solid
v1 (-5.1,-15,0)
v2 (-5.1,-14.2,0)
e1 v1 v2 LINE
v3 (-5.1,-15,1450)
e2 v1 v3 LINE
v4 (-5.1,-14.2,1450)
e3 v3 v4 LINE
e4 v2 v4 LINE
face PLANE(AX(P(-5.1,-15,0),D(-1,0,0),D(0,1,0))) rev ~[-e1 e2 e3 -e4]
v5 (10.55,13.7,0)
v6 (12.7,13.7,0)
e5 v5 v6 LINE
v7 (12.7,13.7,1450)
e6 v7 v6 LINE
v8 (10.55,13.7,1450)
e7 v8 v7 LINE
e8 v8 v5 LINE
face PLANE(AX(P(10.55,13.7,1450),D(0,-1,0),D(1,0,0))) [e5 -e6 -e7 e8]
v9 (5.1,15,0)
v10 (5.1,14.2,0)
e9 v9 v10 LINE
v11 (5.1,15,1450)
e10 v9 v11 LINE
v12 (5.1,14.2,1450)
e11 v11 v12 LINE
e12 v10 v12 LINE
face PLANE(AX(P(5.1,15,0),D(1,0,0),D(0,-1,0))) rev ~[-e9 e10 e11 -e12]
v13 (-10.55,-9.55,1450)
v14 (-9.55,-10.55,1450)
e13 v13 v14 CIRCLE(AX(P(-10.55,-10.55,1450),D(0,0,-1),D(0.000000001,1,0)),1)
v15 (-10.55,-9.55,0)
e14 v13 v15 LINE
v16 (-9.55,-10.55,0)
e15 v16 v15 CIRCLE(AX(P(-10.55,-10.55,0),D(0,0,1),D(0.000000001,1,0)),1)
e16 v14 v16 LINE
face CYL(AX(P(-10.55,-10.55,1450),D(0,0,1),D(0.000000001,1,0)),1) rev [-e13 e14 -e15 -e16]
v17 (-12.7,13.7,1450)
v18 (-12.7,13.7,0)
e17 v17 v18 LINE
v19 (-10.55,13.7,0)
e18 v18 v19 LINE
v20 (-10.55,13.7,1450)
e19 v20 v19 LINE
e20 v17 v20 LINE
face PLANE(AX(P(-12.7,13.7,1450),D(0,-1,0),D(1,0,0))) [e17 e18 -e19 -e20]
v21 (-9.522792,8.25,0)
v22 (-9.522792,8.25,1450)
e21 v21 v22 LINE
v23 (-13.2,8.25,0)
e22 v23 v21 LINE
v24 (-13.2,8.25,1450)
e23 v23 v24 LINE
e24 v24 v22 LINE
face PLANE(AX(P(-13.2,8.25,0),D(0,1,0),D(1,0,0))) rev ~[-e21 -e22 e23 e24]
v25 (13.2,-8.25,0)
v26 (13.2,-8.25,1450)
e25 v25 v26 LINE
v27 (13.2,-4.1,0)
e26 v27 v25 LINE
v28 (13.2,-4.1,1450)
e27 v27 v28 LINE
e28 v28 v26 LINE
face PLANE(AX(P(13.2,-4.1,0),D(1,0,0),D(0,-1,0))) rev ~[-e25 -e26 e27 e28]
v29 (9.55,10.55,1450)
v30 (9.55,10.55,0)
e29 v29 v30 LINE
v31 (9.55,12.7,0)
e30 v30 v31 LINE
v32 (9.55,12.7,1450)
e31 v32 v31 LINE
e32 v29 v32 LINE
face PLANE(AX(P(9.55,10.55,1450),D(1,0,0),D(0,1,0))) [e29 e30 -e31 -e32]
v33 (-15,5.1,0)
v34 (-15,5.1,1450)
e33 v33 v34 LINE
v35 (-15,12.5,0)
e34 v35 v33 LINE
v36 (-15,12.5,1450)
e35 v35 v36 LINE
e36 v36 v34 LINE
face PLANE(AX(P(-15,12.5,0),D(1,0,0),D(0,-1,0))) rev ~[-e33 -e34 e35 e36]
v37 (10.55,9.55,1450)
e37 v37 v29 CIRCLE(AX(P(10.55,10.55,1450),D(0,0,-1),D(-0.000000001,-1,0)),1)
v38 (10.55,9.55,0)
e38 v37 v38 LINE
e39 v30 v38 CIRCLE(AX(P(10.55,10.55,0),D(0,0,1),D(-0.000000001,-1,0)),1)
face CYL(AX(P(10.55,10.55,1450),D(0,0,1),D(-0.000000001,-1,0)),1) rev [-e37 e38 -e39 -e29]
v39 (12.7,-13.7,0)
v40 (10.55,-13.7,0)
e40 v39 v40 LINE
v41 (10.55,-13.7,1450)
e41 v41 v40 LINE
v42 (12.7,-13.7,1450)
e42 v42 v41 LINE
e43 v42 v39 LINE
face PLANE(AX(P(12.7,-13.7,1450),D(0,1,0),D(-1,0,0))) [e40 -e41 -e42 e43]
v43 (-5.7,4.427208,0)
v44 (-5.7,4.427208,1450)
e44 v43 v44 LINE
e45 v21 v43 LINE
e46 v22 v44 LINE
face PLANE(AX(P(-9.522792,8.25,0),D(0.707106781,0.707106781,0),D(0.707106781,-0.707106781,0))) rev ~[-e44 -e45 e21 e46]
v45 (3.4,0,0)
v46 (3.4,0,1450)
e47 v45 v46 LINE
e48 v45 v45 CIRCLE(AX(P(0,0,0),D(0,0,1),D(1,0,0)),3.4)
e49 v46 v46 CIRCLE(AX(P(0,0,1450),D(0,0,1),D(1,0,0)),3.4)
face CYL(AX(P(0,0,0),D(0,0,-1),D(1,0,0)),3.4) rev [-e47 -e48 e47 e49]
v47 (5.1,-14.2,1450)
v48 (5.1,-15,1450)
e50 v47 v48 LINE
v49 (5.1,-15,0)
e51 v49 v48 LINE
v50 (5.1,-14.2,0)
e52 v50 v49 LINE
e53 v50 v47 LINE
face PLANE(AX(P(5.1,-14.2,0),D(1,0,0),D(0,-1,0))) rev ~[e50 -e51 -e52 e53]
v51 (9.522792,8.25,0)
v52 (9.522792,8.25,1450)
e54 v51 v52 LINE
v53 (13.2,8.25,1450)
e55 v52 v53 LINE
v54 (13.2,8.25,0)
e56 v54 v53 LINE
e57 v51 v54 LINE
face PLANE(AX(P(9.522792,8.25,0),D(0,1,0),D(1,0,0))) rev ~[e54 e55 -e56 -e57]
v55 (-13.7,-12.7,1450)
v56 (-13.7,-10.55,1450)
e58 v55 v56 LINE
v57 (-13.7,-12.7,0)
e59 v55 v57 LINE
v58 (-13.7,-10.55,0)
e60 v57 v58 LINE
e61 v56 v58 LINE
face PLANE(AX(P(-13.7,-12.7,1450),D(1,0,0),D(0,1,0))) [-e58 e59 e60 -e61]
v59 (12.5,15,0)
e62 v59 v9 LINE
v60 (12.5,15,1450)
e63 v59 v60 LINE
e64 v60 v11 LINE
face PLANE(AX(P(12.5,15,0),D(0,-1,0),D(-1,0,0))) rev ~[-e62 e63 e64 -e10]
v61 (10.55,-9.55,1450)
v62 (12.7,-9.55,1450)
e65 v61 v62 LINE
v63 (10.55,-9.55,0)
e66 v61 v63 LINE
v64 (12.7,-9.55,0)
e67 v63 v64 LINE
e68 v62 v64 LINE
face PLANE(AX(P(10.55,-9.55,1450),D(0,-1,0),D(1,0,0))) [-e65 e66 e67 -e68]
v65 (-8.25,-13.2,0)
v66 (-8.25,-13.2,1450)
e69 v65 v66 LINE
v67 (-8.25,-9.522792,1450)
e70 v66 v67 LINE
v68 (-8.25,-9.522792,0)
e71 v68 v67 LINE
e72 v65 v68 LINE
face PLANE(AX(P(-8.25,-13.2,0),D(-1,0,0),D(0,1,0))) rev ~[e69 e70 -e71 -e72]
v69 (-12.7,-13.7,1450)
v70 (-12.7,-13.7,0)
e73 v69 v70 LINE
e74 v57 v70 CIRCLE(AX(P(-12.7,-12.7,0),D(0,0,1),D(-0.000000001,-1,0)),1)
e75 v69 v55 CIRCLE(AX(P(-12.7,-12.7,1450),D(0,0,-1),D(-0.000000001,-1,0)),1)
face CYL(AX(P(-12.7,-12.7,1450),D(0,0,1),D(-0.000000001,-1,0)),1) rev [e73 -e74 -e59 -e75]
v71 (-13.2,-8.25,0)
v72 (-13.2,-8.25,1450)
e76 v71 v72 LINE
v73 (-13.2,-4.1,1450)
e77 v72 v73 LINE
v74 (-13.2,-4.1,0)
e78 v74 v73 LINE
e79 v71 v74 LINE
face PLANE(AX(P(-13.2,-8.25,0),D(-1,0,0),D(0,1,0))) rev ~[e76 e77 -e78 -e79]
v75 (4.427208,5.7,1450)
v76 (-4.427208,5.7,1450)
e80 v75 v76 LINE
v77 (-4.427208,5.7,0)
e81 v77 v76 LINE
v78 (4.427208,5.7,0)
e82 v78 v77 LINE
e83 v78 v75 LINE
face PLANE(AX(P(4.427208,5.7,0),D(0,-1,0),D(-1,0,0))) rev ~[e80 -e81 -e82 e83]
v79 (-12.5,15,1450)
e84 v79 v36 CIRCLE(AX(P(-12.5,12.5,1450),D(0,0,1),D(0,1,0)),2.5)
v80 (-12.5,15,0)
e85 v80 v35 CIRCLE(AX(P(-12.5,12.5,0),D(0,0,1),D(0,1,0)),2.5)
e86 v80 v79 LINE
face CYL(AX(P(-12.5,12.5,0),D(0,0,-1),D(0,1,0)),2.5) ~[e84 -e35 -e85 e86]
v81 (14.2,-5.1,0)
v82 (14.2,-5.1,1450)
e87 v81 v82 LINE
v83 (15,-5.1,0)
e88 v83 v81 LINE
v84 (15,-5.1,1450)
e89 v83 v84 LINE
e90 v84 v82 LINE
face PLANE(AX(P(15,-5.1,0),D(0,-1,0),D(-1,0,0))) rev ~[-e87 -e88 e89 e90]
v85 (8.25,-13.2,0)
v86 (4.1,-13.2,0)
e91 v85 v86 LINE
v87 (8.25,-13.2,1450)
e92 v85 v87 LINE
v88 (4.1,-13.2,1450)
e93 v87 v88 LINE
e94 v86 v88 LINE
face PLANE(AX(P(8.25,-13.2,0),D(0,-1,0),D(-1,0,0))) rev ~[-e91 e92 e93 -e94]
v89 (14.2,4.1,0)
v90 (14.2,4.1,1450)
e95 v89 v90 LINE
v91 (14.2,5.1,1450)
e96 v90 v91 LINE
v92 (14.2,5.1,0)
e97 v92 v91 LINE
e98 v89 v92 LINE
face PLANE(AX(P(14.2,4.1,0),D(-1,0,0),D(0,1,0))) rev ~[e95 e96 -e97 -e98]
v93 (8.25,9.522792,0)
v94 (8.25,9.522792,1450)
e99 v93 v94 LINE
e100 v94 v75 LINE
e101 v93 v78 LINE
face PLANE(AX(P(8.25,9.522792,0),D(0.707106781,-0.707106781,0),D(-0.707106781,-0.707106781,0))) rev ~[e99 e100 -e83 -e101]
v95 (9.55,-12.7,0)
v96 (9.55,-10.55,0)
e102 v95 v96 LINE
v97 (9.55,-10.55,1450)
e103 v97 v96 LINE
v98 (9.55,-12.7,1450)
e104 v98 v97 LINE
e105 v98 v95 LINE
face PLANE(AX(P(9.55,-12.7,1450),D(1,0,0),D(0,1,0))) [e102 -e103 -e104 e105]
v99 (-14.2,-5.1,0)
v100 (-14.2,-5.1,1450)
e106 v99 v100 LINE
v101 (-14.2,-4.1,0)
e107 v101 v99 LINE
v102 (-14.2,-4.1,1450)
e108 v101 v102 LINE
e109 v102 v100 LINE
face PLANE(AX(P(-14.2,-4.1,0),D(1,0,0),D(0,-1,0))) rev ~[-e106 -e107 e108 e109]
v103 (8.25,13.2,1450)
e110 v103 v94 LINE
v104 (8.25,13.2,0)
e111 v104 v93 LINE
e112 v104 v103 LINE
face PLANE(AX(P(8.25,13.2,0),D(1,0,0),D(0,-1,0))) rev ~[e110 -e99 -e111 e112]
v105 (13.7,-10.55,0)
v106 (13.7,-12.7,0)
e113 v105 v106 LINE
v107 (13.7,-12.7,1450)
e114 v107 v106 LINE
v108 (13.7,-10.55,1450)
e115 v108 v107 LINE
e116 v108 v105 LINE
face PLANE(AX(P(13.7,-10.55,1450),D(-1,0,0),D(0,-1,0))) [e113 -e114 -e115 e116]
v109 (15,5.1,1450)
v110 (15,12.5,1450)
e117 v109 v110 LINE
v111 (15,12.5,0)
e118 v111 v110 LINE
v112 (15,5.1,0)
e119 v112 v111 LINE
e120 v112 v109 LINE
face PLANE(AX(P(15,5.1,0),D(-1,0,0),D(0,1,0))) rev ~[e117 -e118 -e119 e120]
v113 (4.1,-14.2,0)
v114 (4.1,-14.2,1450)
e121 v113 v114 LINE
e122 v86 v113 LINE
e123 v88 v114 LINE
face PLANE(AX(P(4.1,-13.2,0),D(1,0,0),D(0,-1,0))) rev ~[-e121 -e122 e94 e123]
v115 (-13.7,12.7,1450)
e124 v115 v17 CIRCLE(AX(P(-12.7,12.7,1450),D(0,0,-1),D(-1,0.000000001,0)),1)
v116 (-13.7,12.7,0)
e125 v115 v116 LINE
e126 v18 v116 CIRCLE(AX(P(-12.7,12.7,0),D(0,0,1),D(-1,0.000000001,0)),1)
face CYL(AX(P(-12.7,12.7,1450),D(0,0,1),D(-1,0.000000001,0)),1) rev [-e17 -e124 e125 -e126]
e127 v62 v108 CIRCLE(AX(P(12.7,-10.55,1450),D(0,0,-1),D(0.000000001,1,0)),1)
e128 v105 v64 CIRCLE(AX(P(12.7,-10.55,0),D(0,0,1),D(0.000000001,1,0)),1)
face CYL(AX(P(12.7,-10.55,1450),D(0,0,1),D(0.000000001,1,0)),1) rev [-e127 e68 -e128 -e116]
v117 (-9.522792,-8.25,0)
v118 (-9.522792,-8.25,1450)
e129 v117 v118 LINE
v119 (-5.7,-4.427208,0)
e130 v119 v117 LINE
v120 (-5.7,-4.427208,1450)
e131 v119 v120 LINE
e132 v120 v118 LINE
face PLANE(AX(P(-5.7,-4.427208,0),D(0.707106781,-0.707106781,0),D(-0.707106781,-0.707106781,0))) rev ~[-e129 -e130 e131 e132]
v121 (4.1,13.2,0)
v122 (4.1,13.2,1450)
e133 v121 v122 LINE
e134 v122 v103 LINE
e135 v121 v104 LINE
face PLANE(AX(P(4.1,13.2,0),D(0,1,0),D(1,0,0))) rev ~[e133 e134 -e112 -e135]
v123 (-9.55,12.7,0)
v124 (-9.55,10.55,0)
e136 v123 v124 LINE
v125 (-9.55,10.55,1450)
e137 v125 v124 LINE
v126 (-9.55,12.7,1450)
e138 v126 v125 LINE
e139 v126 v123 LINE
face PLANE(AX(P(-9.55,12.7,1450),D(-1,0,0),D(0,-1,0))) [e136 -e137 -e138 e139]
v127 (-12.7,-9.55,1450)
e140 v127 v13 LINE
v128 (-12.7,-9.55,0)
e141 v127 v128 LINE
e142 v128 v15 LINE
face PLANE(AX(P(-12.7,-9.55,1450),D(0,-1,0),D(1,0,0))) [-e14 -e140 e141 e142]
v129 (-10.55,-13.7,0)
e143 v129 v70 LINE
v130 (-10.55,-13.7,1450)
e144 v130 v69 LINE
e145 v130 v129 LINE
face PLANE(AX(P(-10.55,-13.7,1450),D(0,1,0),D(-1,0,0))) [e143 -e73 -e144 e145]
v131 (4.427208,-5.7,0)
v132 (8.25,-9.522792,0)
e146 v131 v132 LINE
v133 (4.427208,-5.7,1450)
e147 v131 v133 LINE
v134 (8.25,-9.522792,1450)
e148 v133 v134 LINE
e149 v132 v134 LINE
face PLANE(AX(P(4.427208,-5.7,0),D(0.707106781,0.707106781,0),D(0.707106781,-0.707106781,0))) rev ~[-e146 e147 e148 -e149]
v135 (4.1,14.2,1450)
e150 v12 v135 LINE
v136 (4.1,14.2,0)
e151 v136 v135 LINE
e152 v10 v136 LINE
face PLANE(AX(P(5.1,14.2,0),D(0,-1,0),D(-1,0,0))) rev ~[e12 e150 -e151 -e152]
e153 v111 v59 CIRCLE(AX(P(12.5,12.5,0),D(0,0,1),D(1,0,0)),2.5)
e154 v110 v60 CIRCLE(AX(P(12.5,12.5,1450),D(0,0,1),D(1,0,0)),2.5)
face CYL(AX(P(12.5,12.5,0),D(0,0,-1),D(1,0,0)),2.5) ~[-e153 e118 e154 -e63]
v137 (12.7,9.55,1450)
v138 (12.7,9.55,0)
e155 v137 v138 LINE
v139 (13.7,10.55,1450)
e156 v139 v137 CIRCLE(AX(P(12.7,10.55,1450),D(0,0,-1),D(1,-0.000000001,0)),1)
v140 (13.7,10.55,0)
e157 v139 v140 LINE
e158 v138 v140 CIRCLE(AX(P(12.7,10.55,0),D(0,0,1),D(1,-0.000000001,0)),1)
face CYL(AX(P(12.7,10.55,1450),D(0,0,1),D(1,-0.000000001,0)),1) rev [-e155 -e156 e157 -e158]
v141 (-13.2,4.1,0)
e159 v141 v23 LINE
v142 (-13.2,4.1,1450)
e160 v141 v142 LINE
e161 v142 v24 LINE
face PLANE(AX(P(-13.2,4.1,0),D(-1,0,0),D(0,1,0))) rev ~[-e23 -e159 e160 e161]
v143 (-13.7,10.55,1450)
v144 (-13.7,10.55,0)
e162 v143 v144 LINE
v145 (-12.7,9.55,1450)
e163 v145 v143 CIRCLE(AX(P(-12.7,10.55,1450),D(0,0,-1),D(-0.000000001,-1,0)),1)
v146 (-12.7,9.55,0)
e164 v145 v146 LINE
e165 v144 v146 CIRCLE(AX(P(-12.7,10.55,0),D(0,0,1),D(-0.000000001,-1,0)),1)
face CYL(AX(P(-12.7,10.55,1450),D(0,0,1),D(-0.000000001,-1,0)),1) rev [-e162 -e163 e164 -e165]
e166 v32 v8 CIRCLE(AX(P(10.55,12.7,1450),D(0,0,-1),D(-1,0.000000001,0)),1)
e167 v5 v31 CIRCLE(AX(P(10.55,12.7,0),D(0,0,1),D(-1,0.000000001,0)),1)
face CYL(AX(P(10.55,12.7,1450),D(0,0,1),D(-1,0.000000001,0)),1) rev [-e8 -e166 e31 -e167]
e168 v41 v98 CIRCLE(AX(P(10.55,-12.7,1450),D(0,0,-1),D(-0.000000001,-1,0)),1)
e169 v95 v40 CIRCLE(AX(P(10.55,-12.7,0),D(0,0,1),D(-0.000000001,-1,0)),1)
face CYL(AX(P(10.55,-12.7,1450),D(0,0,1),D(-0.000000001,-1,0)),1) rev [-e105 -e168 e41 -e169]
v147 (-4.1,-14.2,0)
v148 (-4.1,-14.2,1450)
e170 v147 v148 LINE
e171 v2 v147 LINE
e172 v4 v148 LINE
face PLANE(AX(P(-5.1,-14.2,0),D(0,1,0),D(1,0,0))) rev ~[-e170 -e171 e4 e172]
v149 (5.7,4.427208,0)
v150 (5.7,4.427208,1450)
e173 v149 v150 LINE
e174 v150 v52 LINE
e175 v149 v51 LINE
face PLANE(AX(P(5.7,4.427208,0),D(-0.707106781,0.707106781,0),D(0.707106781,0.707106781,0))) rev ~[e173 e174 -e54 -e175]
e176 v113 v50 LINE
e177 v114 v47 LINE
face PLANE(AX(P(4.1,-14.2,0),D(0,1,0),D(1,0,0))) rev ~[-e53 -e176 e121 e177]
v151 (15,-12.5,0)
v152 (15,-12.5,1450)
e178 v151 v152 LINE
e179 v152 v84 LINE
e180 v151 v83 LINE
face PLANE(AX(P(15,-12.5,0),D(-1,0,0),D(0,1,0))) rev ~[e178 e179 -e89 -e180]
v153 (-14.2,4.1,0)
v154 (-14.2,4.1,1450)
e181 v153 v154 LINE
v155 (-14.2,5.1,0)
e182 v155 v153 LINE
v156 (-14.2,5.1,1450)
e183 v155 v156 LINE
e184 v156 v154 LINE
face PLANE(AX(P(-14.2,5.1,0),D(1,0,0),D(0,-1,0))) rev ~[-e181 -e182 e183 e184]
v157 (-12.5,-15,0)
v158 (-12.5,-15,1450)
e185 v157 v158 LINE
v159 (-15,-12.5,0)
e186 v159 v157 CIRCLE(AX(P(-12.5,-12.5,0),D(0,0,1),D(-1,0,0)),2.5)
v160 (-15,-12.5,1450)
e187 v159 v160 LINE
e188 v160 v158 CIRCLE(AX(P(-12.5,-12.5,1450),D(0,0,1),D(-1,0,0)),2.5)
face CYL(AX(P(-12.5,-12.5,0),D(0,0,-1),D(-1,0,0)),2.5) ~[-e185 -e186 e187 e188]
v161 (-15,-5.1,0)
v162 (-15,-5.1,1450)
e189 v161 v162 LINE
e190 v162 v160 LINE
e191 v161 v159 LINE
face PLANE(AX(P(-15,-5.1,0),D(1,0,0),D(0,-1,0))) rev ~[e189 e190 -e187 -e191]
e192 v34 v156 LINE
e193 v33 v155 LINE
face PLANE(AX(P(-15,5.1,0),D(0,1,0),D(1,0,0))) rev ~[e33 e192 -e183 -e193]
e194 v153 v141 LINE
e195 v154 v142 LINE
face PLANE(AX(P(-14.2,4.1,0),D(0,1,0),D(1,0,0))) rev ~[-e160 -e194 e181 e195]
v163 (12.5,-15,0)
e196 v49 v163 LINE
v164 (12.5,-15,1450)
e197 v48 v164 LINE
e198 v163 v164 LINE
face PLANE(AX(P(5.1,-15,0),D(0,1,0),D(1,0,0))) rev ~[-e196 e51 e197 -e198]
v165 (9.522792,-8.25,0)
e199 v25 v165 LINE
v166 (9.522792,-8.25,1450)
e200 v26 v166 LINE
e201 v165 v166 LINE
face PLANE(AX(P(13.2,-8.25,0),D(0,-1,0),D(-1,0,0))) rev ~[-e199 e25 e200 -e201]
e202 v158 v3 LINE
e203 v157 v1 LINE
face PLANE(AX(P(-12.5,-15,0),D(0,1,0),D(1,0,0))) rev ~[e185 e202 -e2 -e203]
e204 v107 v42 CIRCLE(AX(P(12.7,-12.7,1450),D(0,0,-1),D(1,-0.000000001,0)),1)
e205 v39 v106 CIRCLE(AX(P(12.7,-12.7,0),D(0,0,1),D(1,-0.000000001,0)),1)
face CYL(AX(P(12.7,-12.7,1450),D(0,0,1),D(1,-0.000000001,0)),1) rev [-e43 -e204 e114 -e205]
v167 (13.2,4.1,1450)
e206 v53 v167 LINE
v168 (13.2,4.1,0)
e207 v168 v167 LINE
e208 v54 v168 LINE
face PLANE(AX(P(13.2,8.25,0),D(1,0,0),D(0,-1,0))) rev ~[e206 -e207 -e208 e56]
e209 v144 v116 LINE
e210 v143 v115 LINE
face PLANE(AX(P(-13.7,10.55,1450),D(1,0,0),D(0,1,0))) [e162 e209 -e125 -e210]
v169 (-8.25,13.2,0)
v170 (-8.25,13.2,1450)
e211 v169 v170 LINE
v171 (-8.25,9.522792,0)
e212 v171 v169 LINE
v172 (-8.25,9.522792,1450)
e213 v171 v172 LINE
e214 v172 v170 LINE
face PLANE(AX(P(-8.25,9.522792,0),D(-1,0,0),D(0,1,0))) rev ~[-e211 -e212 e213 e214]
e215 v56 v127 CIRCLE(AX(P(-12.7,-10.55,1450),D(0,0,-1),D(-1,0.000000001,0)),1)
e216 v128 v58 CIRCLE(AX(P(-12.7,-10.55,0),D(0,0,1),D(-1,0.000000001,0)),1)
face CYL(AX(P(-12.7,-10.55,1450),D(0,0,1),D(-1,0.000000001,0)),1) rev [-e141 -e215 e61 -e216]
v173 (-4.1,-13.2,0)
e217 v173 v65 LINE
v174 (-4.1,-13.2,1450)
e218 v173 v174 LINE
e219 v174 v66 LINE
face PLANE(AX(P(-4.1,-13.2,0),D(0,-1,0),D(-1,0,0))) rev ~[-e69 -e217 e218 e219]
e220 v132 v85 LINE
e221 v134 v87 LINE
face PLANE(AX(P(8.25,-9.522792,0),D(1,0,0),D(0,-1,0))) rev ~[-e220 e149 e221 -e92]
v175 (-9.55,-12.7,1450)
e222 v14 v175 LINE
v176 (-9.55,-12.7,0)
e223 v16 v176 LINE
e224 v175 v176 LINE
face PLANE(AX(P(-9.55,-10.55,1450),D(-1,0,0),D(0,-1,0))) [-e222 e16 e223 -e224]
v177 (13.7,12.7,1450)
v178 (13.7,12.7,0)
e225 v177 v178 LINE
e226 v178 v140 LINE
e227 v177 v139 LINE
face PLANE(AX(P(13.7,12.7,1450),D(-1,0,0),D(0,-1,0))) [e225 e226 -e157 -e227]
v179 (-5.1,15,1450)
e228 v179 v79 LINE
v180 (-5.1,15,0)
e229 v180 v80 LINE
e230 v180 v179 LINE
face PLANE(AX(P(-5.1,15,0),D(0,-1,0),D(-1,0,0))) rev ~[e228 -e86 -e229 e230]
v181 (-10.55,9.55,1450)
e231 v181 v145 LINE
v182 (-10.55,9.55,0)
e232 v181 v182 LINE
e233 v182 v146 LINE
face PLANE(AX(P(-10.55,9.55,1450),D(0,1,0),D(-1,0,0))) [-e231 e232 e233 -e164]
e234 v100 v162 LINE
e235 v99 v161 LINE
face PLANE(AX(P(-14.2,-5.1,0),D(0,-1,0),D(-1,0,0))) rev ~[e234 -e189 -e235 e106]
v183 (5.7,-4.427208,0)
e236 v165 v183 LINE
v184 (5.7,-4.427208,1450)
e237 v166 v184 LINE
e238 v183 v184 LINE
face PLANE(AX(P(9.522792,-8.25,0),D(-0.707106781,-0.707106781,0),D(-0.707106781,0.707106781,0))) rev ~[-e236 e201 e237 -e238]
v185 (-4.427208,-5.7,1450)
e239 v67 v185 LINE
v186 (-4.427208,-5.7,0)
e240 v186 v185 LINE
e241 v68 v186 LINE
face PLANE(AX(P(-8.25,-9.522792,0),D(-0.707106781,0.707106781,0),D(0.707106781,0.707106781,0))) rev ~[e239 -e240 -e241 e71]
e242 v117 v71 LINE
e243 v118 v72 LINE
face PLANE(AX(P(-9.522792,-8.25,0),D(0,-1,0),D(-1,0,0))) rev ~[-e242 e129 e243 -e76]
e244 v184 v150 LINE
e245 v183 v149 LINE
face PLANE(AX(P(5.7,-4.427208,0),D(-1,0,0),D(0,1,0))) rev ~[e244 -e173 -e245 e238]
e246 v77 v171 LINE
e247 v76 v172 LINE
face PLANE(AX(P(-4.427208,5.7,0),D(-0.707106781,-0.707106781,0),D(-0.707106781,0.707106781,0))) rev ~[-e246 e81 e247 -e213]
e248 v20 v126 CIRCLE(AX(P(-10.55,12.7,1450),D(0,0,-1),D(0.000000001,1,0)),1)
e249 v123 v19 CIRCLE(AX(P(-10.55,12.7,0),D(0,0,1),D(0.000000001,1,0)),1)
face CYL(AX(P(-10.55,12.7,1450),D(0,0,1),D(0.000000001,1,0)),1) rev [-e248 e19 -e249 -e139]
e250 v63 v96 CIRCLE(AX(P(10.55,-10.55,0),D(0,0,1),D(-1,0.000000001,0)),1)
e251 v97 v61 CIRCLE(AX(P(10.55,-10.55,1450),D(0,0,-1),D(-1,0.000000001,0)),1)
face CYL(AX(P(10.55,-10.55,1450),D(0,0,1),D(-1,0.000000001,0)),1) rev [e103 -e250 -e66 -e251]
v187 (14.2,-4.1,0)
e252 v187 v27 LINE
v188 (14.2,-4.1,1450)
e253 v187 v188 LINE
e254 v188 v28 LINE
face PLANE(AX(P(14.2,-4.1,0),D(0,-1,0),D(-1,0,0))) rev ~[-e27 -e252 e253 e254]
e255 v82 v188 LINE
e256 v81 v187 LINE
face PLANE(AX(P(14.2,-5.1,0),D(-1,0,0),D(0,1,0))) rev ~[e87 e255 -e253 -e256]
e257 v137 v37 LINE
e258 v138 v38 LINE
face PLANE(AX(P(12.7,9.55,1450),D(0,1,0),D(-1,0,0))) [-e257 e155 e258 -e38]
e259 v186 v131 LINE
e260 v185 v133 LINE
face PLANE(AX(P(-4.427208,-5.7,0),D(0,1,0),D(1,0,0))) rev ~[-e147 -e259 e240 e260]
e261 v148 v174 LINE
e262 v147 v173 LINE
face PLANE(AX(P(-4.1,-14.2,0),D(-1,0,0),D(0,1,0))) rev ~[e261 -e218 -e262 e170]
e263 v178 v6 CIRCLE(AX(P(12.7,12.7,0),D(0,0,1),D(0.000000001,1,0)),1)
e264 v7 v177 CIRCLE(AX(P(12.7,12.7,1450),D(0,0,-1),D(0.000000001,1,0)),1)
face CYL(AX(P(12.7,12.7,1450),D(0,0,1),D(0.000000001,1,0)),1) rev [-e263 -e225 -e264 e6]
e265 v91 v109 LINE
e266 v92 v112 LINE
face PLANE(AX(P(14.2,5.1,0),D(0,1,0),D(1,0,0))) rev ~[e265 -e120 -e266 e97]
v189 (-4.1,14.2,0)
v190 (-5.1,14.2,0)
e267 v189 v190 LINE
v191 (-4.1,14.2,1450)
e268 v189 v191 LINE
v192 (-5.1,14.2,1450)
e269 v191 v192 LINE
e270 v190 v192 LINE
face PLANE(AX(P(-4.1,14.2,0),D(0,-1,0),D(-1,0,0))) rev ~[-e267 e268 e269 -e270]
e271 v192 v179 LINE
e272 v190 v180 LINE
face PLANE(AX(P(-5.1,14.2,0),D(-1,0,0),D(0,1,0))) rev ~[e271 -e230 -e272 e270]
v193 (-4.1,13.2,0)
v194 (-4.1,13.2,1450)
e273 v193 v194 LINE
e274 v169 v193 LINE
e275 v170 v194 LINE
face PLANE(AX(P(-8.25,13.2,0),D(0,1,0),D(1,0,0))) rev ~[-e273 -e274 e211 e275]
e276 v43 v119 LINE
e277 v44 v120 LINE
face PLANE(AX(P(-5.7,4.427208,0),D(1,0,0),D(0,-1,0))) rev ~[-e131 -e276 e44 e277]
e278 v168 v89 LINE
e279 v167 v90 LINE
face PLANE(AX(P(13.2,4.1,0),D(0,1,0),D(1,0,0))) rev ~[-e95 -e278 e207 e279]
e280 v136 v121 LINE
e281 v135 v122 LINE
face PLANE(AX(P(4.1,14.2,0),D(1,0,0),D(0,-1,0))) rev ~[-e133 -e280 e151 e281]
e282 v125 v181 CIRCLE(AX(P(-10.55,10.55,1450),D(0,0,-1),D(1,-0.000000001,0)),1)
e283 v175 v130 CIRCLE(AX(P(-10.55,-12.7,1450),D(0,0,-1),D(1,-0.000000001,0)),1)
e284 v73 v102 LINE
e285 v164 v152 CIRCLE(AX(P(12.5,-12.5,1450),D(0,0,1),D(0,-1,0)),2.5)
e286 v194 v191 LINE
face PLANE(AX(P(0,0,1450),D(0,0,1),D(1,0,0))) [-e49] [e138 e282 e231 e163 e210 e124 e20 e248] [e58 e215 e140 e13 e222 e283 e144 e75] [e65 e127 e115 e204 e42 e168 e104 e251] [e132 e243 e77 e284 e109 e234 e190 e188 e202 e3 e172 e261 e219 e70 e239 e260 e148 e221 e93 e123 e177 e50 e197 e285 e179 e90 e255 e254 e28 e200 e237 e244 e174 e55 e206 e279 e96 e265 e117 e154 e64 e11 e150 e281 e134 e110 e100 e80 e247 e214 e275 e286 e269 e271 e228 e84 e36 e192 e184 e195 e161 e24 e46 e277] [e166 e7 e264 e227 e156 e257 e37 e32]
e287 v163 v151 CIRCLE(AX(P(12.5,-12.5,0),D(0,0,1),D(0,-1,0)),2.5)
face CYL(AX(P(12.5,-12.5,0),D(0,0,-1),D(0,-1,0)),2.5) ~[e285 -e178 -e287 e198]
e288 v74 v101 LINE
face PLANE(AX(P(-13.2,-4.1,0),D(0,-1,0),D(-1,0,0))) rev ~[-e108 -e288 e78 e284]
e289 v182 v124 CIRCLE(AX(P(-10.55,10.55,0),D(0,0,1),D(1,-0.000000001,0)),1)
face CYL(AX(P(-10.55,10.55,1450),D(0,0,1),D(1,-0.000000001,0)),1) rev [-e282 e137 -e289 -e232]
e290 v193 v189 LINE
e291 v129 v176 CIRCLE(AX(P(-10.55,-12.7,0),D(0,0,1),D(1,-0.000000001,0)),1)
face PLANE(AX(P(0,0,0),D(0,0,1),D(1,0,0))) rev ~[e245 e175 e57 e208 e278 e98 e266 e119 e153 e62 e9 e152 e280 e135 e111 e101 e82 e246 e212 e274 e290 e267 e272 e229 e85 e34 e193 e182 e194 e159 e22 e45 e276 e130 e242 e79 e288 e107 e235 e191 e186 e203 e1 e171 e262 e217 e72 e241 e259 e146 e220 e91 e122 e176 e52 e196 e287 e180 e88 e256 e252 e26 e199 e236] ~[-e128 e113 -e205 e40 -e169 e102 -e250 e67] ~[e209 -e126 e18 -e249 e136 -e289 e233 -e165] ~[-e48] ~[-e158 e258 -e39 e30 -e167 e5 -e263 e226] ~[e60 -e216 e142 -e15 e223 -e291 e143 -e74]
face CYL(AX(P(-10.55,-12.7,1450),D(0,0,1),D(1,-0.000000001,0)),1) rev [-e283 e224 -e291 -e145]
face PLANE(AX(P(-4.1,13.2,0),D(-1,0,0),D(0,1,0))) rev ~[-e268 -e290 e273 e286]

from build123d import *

# Parameters (mm, degrees)
SKETCH1_R      = 3.4
EXTRUDE1_DEPTH = 1450
EXTRUDE2_DEPTH = 1451.155164112


with BuildPart() as part:
    # Sketch1 → Extrude1 (new body)
    with BuildSketch(Plane.XY):
        with BuildLine():
            Line((-5.1, 14.2), (-5.1, 15))
            Line((-5.1, 15), (-12.5, 15))
            ThreePointArc((-12.5, 15), (-14.267766953, 14.267766953), (-15, 12.5))
            Line((-15, 12.5), (-15, 5.1))
            Line((-15, 5.1), (-14.2, 5.1))
            Line((-14.2, 5.1), (-14.2, 4.1))
            Line((-14.2, 4.1), (-13.2, 4.1))
            Line((-13.2, 4.1), (-13.2, 8.25))
            Line((-13.2, 8.25), (-9.522792206, 8.25))
            Line((-9.522792206, 8.25), (-5.7, 4.427207794))
            Line((-5.7, 4.427207794), (-5.7, -4.427207794))
            Line((-5.7, -4.427207794), (-9.522792206, -8.25))
            Line((-9.522792206, -8.25), (-13.2, -8.25))
            Line((-13.2, -8.25), (-13.2, -4.1))
            Line((-13.2, -4.1), (-14.2, -4.1))
            Line((-14.2, -4.1), (-14.2, -5.1))
            Line((-14.2, -5.1), (-15, -5.1))
            Line((-15, -5.1), (-15, -12.5))
            ThreePointArc((-15, -12.5), (-14.267766953, -14.267766953), (-12.5, -15))
            Line((-12.5, -15), (-5.1, -15))
            Line((-5.1, -15), (-5.1, -14.2))
            Line((-5.1, -14.2), (-4.1, -14.2))
            Line((-4.1, -14.2), (-4.1, -13.2))
            Line((-4.1, -13.2), (-8.25, -13.2))
            Line((-8.25, -13.2), (-8.25, -9.522792206))
            Line((-8.25, -9.522792206), (-4.427207794, -5.7))
            Line((-4.427207794, -5.7), (4.427207794, -5.7))
            Line((4.427207794, -5.7), (8.25, -9.522792206))
            Line((8.25, -9.522792206), (8.25, -13.2))
            Line((8.25, -13.2), (4.1, -13.2))
            Line((4.1, -13.2), (4.1, -14.2))
            Line((4.1, -14.2), (5.1, -14.2))
            Line((5.1, -14.2), (5.1, -15))
            Line((5.1, -15), (12.5, -15))
            ThreePointArc((12.5, -15), (14.267766953, -14.267766953), (15, -12.5))
            Line((15, -12.5), (15, -5.1))
            Line((15, -5.1), (14.2, -5.1))
            Line((14.2, -5.1), (14.2, -4.1))
            Line((14.2, -4.1), (13.2, -4.1))
            Line((13.2, -4.1), (13.2, -8.25))
            Line((13.2, -8.25), (9.522792206, -8.25))
            Line((9.522792206, -8.25), (5.7, -4.427207794))
            Line((5.7, -4.427207794), (5.7, 4.427207794))
            Line((5.7, 4.427207794), (9.522792206, 8.25))
            Line((9.522792206, 8.25), (13.2, 8.25))
            Line((13.2, 8.25), (13.2, 4.1))
            Line((13.2, 4.1), (14.2, 4.1))
            Line((14.2, 4.1), (14.2, 5.1))
            Line((14.2, 5.1), (15, 5.1))
            Line((15, 5.1), (15, 12.5))
            ThreePointArc((15, 12.5), (14.267766953, 14.267766953), (12.5, 15))
            Line((12.5, 15), (5.1, 15))
            Line((5.1, 15), (5.1, 14.2))
            Line((5.1, 14.2), (4.1, 14.2))
            Line((4.1, 14.2), (4.1, 13.2))
            Line((4.1, 13.2), (8.25, 13.2))
            Line((8.25, 13.2), (8.25, 9.522792206))
            Line((8.25, 9.522792206), (4.427207794, 5.7))
            Line((4.427207794, 5.7), (-4.427207794, 5.7))
            Line((-4.427207794, 5.7), (-8.25, 9.522792206))
            Line((-8.25, 9.522792206), (-8.25, 13.2))
            Line((-8.25, 13.2), (-4.1, 13.2))
            Line((-4.1, 13.2), (-4.1, 14.2))
            Line((-4.1, 14.2), (-5.1, 14.2))
        make_face()
        Circle(SKETCH1_R, mode=Mode.SUBTRACT)
    extrude(amount=EXTRUDE1_DEPTH)

    # Sketch2 → Extrude2 (cut, through all)
    with BuildSketch(Plane.XY.offset(1450)):
        with BuildLine():
            Line((13.7, 12.7), (13.7, 10.55))
            ThreePointArc((13.7, 10.55), (13.407106781, 9.842893219), (12.7, 9.55))
            Line((12.7, 9.55), (10.55, 9.55))
            ThreePointArc((10.55, 9.55), (9.842893219, 9.842893219), (9.55, 10.55))
            Line((9.55, 10.55), (9.55, 12.7))
            ThreePointArc((9.55, 12.7), (9.842893219, 13.407106781), (10.55, 13.7))
            Line((10.55, 13.7), (12.7, 13.7))
            ThreePointArc((12.7, 13.7), (13.407106781, 13.407106781), (13.7, 12.7))
        make_face()
        with BuildLine():
            Line((-12.7, 13.7), (-10.55, 13.7))
            ThreePointArc((-10.55, 13.7), (-9.842893219, 13.407106781), (-9.55, 12.7))
            Line((-9.55, 12.7), (-9.55, 10.55))
            ThreePointArc((-9.55, 10.55), (-9.842893219, 9.842893219), (-10.55, 9.55))
            Line((-10.55, 9.55), (-12.7, 9.55))
            ThreePointArc((-12.7, 9.55), (-13.407106781, 9.842893219), (-13.7, 10.55))
            Line((-13.7, 10.55), (-13.7, 12.7))
            ThreePointArc((-13.7, 12.7), (-13.407106781, 13.407106781), (-12.7, 13.7))
        make_face()
        with BuildLine():
            Line((12.7, -13.7), (10.55, -13.7))
            ThreePointArc((10.55, -13.7), (9.842893219, -13.407106781), (9.55, -12.7))
            Line((9.55, -12.7), (9.55, -10.55))
            ThreePointArc((9.55, -10.55), (9.842893219, -9.842893219), (10.55, -9.55))
            Line((10.55, -9.55), (12.7, -9.55))
            ThreePointArc((12.7, -9.55), (13.407106781, -9.842893219), (13.7, -10.55))
            Line((13.7, -10.55), (13.7, -12.7))
            ThreePointArc((13.7, -12.7), (13.407106781, -13.407106781), (12.7, -13.7))
        make_face()
        with BuildLine():
            Line((-13.7, -12.7), (-13.7, -10.55))
            ThreePointArc((-13.7, -10.55), (-13.407106781, -9.842893219), (-12.7, -9.55))
            Line((-12.7, -9.55), (-10.55, -9.55))
            ThreePointArc((-10.55, -9.55), (-9.842893219, -9.842893219), (-9.55, -10.55))
            Line((-9.55, -10.55), (-9.55, -12.7))
            ThreePointArc((-9.55, -12.7), (-9.842893219, -13.407106781), (-10.55, -13.7))
            Line((-10.55, -13.7), (-12.7, -13.7))
            ThreePointArc((-12.7, -13.7), (-13.407106781, -13.407106781), (-13.7, -12.7))
        make_face()
    extrude(amount=-EXTRUDE2_DEPTH, mode=Mode.SUBTRACT)


solid = part.part
